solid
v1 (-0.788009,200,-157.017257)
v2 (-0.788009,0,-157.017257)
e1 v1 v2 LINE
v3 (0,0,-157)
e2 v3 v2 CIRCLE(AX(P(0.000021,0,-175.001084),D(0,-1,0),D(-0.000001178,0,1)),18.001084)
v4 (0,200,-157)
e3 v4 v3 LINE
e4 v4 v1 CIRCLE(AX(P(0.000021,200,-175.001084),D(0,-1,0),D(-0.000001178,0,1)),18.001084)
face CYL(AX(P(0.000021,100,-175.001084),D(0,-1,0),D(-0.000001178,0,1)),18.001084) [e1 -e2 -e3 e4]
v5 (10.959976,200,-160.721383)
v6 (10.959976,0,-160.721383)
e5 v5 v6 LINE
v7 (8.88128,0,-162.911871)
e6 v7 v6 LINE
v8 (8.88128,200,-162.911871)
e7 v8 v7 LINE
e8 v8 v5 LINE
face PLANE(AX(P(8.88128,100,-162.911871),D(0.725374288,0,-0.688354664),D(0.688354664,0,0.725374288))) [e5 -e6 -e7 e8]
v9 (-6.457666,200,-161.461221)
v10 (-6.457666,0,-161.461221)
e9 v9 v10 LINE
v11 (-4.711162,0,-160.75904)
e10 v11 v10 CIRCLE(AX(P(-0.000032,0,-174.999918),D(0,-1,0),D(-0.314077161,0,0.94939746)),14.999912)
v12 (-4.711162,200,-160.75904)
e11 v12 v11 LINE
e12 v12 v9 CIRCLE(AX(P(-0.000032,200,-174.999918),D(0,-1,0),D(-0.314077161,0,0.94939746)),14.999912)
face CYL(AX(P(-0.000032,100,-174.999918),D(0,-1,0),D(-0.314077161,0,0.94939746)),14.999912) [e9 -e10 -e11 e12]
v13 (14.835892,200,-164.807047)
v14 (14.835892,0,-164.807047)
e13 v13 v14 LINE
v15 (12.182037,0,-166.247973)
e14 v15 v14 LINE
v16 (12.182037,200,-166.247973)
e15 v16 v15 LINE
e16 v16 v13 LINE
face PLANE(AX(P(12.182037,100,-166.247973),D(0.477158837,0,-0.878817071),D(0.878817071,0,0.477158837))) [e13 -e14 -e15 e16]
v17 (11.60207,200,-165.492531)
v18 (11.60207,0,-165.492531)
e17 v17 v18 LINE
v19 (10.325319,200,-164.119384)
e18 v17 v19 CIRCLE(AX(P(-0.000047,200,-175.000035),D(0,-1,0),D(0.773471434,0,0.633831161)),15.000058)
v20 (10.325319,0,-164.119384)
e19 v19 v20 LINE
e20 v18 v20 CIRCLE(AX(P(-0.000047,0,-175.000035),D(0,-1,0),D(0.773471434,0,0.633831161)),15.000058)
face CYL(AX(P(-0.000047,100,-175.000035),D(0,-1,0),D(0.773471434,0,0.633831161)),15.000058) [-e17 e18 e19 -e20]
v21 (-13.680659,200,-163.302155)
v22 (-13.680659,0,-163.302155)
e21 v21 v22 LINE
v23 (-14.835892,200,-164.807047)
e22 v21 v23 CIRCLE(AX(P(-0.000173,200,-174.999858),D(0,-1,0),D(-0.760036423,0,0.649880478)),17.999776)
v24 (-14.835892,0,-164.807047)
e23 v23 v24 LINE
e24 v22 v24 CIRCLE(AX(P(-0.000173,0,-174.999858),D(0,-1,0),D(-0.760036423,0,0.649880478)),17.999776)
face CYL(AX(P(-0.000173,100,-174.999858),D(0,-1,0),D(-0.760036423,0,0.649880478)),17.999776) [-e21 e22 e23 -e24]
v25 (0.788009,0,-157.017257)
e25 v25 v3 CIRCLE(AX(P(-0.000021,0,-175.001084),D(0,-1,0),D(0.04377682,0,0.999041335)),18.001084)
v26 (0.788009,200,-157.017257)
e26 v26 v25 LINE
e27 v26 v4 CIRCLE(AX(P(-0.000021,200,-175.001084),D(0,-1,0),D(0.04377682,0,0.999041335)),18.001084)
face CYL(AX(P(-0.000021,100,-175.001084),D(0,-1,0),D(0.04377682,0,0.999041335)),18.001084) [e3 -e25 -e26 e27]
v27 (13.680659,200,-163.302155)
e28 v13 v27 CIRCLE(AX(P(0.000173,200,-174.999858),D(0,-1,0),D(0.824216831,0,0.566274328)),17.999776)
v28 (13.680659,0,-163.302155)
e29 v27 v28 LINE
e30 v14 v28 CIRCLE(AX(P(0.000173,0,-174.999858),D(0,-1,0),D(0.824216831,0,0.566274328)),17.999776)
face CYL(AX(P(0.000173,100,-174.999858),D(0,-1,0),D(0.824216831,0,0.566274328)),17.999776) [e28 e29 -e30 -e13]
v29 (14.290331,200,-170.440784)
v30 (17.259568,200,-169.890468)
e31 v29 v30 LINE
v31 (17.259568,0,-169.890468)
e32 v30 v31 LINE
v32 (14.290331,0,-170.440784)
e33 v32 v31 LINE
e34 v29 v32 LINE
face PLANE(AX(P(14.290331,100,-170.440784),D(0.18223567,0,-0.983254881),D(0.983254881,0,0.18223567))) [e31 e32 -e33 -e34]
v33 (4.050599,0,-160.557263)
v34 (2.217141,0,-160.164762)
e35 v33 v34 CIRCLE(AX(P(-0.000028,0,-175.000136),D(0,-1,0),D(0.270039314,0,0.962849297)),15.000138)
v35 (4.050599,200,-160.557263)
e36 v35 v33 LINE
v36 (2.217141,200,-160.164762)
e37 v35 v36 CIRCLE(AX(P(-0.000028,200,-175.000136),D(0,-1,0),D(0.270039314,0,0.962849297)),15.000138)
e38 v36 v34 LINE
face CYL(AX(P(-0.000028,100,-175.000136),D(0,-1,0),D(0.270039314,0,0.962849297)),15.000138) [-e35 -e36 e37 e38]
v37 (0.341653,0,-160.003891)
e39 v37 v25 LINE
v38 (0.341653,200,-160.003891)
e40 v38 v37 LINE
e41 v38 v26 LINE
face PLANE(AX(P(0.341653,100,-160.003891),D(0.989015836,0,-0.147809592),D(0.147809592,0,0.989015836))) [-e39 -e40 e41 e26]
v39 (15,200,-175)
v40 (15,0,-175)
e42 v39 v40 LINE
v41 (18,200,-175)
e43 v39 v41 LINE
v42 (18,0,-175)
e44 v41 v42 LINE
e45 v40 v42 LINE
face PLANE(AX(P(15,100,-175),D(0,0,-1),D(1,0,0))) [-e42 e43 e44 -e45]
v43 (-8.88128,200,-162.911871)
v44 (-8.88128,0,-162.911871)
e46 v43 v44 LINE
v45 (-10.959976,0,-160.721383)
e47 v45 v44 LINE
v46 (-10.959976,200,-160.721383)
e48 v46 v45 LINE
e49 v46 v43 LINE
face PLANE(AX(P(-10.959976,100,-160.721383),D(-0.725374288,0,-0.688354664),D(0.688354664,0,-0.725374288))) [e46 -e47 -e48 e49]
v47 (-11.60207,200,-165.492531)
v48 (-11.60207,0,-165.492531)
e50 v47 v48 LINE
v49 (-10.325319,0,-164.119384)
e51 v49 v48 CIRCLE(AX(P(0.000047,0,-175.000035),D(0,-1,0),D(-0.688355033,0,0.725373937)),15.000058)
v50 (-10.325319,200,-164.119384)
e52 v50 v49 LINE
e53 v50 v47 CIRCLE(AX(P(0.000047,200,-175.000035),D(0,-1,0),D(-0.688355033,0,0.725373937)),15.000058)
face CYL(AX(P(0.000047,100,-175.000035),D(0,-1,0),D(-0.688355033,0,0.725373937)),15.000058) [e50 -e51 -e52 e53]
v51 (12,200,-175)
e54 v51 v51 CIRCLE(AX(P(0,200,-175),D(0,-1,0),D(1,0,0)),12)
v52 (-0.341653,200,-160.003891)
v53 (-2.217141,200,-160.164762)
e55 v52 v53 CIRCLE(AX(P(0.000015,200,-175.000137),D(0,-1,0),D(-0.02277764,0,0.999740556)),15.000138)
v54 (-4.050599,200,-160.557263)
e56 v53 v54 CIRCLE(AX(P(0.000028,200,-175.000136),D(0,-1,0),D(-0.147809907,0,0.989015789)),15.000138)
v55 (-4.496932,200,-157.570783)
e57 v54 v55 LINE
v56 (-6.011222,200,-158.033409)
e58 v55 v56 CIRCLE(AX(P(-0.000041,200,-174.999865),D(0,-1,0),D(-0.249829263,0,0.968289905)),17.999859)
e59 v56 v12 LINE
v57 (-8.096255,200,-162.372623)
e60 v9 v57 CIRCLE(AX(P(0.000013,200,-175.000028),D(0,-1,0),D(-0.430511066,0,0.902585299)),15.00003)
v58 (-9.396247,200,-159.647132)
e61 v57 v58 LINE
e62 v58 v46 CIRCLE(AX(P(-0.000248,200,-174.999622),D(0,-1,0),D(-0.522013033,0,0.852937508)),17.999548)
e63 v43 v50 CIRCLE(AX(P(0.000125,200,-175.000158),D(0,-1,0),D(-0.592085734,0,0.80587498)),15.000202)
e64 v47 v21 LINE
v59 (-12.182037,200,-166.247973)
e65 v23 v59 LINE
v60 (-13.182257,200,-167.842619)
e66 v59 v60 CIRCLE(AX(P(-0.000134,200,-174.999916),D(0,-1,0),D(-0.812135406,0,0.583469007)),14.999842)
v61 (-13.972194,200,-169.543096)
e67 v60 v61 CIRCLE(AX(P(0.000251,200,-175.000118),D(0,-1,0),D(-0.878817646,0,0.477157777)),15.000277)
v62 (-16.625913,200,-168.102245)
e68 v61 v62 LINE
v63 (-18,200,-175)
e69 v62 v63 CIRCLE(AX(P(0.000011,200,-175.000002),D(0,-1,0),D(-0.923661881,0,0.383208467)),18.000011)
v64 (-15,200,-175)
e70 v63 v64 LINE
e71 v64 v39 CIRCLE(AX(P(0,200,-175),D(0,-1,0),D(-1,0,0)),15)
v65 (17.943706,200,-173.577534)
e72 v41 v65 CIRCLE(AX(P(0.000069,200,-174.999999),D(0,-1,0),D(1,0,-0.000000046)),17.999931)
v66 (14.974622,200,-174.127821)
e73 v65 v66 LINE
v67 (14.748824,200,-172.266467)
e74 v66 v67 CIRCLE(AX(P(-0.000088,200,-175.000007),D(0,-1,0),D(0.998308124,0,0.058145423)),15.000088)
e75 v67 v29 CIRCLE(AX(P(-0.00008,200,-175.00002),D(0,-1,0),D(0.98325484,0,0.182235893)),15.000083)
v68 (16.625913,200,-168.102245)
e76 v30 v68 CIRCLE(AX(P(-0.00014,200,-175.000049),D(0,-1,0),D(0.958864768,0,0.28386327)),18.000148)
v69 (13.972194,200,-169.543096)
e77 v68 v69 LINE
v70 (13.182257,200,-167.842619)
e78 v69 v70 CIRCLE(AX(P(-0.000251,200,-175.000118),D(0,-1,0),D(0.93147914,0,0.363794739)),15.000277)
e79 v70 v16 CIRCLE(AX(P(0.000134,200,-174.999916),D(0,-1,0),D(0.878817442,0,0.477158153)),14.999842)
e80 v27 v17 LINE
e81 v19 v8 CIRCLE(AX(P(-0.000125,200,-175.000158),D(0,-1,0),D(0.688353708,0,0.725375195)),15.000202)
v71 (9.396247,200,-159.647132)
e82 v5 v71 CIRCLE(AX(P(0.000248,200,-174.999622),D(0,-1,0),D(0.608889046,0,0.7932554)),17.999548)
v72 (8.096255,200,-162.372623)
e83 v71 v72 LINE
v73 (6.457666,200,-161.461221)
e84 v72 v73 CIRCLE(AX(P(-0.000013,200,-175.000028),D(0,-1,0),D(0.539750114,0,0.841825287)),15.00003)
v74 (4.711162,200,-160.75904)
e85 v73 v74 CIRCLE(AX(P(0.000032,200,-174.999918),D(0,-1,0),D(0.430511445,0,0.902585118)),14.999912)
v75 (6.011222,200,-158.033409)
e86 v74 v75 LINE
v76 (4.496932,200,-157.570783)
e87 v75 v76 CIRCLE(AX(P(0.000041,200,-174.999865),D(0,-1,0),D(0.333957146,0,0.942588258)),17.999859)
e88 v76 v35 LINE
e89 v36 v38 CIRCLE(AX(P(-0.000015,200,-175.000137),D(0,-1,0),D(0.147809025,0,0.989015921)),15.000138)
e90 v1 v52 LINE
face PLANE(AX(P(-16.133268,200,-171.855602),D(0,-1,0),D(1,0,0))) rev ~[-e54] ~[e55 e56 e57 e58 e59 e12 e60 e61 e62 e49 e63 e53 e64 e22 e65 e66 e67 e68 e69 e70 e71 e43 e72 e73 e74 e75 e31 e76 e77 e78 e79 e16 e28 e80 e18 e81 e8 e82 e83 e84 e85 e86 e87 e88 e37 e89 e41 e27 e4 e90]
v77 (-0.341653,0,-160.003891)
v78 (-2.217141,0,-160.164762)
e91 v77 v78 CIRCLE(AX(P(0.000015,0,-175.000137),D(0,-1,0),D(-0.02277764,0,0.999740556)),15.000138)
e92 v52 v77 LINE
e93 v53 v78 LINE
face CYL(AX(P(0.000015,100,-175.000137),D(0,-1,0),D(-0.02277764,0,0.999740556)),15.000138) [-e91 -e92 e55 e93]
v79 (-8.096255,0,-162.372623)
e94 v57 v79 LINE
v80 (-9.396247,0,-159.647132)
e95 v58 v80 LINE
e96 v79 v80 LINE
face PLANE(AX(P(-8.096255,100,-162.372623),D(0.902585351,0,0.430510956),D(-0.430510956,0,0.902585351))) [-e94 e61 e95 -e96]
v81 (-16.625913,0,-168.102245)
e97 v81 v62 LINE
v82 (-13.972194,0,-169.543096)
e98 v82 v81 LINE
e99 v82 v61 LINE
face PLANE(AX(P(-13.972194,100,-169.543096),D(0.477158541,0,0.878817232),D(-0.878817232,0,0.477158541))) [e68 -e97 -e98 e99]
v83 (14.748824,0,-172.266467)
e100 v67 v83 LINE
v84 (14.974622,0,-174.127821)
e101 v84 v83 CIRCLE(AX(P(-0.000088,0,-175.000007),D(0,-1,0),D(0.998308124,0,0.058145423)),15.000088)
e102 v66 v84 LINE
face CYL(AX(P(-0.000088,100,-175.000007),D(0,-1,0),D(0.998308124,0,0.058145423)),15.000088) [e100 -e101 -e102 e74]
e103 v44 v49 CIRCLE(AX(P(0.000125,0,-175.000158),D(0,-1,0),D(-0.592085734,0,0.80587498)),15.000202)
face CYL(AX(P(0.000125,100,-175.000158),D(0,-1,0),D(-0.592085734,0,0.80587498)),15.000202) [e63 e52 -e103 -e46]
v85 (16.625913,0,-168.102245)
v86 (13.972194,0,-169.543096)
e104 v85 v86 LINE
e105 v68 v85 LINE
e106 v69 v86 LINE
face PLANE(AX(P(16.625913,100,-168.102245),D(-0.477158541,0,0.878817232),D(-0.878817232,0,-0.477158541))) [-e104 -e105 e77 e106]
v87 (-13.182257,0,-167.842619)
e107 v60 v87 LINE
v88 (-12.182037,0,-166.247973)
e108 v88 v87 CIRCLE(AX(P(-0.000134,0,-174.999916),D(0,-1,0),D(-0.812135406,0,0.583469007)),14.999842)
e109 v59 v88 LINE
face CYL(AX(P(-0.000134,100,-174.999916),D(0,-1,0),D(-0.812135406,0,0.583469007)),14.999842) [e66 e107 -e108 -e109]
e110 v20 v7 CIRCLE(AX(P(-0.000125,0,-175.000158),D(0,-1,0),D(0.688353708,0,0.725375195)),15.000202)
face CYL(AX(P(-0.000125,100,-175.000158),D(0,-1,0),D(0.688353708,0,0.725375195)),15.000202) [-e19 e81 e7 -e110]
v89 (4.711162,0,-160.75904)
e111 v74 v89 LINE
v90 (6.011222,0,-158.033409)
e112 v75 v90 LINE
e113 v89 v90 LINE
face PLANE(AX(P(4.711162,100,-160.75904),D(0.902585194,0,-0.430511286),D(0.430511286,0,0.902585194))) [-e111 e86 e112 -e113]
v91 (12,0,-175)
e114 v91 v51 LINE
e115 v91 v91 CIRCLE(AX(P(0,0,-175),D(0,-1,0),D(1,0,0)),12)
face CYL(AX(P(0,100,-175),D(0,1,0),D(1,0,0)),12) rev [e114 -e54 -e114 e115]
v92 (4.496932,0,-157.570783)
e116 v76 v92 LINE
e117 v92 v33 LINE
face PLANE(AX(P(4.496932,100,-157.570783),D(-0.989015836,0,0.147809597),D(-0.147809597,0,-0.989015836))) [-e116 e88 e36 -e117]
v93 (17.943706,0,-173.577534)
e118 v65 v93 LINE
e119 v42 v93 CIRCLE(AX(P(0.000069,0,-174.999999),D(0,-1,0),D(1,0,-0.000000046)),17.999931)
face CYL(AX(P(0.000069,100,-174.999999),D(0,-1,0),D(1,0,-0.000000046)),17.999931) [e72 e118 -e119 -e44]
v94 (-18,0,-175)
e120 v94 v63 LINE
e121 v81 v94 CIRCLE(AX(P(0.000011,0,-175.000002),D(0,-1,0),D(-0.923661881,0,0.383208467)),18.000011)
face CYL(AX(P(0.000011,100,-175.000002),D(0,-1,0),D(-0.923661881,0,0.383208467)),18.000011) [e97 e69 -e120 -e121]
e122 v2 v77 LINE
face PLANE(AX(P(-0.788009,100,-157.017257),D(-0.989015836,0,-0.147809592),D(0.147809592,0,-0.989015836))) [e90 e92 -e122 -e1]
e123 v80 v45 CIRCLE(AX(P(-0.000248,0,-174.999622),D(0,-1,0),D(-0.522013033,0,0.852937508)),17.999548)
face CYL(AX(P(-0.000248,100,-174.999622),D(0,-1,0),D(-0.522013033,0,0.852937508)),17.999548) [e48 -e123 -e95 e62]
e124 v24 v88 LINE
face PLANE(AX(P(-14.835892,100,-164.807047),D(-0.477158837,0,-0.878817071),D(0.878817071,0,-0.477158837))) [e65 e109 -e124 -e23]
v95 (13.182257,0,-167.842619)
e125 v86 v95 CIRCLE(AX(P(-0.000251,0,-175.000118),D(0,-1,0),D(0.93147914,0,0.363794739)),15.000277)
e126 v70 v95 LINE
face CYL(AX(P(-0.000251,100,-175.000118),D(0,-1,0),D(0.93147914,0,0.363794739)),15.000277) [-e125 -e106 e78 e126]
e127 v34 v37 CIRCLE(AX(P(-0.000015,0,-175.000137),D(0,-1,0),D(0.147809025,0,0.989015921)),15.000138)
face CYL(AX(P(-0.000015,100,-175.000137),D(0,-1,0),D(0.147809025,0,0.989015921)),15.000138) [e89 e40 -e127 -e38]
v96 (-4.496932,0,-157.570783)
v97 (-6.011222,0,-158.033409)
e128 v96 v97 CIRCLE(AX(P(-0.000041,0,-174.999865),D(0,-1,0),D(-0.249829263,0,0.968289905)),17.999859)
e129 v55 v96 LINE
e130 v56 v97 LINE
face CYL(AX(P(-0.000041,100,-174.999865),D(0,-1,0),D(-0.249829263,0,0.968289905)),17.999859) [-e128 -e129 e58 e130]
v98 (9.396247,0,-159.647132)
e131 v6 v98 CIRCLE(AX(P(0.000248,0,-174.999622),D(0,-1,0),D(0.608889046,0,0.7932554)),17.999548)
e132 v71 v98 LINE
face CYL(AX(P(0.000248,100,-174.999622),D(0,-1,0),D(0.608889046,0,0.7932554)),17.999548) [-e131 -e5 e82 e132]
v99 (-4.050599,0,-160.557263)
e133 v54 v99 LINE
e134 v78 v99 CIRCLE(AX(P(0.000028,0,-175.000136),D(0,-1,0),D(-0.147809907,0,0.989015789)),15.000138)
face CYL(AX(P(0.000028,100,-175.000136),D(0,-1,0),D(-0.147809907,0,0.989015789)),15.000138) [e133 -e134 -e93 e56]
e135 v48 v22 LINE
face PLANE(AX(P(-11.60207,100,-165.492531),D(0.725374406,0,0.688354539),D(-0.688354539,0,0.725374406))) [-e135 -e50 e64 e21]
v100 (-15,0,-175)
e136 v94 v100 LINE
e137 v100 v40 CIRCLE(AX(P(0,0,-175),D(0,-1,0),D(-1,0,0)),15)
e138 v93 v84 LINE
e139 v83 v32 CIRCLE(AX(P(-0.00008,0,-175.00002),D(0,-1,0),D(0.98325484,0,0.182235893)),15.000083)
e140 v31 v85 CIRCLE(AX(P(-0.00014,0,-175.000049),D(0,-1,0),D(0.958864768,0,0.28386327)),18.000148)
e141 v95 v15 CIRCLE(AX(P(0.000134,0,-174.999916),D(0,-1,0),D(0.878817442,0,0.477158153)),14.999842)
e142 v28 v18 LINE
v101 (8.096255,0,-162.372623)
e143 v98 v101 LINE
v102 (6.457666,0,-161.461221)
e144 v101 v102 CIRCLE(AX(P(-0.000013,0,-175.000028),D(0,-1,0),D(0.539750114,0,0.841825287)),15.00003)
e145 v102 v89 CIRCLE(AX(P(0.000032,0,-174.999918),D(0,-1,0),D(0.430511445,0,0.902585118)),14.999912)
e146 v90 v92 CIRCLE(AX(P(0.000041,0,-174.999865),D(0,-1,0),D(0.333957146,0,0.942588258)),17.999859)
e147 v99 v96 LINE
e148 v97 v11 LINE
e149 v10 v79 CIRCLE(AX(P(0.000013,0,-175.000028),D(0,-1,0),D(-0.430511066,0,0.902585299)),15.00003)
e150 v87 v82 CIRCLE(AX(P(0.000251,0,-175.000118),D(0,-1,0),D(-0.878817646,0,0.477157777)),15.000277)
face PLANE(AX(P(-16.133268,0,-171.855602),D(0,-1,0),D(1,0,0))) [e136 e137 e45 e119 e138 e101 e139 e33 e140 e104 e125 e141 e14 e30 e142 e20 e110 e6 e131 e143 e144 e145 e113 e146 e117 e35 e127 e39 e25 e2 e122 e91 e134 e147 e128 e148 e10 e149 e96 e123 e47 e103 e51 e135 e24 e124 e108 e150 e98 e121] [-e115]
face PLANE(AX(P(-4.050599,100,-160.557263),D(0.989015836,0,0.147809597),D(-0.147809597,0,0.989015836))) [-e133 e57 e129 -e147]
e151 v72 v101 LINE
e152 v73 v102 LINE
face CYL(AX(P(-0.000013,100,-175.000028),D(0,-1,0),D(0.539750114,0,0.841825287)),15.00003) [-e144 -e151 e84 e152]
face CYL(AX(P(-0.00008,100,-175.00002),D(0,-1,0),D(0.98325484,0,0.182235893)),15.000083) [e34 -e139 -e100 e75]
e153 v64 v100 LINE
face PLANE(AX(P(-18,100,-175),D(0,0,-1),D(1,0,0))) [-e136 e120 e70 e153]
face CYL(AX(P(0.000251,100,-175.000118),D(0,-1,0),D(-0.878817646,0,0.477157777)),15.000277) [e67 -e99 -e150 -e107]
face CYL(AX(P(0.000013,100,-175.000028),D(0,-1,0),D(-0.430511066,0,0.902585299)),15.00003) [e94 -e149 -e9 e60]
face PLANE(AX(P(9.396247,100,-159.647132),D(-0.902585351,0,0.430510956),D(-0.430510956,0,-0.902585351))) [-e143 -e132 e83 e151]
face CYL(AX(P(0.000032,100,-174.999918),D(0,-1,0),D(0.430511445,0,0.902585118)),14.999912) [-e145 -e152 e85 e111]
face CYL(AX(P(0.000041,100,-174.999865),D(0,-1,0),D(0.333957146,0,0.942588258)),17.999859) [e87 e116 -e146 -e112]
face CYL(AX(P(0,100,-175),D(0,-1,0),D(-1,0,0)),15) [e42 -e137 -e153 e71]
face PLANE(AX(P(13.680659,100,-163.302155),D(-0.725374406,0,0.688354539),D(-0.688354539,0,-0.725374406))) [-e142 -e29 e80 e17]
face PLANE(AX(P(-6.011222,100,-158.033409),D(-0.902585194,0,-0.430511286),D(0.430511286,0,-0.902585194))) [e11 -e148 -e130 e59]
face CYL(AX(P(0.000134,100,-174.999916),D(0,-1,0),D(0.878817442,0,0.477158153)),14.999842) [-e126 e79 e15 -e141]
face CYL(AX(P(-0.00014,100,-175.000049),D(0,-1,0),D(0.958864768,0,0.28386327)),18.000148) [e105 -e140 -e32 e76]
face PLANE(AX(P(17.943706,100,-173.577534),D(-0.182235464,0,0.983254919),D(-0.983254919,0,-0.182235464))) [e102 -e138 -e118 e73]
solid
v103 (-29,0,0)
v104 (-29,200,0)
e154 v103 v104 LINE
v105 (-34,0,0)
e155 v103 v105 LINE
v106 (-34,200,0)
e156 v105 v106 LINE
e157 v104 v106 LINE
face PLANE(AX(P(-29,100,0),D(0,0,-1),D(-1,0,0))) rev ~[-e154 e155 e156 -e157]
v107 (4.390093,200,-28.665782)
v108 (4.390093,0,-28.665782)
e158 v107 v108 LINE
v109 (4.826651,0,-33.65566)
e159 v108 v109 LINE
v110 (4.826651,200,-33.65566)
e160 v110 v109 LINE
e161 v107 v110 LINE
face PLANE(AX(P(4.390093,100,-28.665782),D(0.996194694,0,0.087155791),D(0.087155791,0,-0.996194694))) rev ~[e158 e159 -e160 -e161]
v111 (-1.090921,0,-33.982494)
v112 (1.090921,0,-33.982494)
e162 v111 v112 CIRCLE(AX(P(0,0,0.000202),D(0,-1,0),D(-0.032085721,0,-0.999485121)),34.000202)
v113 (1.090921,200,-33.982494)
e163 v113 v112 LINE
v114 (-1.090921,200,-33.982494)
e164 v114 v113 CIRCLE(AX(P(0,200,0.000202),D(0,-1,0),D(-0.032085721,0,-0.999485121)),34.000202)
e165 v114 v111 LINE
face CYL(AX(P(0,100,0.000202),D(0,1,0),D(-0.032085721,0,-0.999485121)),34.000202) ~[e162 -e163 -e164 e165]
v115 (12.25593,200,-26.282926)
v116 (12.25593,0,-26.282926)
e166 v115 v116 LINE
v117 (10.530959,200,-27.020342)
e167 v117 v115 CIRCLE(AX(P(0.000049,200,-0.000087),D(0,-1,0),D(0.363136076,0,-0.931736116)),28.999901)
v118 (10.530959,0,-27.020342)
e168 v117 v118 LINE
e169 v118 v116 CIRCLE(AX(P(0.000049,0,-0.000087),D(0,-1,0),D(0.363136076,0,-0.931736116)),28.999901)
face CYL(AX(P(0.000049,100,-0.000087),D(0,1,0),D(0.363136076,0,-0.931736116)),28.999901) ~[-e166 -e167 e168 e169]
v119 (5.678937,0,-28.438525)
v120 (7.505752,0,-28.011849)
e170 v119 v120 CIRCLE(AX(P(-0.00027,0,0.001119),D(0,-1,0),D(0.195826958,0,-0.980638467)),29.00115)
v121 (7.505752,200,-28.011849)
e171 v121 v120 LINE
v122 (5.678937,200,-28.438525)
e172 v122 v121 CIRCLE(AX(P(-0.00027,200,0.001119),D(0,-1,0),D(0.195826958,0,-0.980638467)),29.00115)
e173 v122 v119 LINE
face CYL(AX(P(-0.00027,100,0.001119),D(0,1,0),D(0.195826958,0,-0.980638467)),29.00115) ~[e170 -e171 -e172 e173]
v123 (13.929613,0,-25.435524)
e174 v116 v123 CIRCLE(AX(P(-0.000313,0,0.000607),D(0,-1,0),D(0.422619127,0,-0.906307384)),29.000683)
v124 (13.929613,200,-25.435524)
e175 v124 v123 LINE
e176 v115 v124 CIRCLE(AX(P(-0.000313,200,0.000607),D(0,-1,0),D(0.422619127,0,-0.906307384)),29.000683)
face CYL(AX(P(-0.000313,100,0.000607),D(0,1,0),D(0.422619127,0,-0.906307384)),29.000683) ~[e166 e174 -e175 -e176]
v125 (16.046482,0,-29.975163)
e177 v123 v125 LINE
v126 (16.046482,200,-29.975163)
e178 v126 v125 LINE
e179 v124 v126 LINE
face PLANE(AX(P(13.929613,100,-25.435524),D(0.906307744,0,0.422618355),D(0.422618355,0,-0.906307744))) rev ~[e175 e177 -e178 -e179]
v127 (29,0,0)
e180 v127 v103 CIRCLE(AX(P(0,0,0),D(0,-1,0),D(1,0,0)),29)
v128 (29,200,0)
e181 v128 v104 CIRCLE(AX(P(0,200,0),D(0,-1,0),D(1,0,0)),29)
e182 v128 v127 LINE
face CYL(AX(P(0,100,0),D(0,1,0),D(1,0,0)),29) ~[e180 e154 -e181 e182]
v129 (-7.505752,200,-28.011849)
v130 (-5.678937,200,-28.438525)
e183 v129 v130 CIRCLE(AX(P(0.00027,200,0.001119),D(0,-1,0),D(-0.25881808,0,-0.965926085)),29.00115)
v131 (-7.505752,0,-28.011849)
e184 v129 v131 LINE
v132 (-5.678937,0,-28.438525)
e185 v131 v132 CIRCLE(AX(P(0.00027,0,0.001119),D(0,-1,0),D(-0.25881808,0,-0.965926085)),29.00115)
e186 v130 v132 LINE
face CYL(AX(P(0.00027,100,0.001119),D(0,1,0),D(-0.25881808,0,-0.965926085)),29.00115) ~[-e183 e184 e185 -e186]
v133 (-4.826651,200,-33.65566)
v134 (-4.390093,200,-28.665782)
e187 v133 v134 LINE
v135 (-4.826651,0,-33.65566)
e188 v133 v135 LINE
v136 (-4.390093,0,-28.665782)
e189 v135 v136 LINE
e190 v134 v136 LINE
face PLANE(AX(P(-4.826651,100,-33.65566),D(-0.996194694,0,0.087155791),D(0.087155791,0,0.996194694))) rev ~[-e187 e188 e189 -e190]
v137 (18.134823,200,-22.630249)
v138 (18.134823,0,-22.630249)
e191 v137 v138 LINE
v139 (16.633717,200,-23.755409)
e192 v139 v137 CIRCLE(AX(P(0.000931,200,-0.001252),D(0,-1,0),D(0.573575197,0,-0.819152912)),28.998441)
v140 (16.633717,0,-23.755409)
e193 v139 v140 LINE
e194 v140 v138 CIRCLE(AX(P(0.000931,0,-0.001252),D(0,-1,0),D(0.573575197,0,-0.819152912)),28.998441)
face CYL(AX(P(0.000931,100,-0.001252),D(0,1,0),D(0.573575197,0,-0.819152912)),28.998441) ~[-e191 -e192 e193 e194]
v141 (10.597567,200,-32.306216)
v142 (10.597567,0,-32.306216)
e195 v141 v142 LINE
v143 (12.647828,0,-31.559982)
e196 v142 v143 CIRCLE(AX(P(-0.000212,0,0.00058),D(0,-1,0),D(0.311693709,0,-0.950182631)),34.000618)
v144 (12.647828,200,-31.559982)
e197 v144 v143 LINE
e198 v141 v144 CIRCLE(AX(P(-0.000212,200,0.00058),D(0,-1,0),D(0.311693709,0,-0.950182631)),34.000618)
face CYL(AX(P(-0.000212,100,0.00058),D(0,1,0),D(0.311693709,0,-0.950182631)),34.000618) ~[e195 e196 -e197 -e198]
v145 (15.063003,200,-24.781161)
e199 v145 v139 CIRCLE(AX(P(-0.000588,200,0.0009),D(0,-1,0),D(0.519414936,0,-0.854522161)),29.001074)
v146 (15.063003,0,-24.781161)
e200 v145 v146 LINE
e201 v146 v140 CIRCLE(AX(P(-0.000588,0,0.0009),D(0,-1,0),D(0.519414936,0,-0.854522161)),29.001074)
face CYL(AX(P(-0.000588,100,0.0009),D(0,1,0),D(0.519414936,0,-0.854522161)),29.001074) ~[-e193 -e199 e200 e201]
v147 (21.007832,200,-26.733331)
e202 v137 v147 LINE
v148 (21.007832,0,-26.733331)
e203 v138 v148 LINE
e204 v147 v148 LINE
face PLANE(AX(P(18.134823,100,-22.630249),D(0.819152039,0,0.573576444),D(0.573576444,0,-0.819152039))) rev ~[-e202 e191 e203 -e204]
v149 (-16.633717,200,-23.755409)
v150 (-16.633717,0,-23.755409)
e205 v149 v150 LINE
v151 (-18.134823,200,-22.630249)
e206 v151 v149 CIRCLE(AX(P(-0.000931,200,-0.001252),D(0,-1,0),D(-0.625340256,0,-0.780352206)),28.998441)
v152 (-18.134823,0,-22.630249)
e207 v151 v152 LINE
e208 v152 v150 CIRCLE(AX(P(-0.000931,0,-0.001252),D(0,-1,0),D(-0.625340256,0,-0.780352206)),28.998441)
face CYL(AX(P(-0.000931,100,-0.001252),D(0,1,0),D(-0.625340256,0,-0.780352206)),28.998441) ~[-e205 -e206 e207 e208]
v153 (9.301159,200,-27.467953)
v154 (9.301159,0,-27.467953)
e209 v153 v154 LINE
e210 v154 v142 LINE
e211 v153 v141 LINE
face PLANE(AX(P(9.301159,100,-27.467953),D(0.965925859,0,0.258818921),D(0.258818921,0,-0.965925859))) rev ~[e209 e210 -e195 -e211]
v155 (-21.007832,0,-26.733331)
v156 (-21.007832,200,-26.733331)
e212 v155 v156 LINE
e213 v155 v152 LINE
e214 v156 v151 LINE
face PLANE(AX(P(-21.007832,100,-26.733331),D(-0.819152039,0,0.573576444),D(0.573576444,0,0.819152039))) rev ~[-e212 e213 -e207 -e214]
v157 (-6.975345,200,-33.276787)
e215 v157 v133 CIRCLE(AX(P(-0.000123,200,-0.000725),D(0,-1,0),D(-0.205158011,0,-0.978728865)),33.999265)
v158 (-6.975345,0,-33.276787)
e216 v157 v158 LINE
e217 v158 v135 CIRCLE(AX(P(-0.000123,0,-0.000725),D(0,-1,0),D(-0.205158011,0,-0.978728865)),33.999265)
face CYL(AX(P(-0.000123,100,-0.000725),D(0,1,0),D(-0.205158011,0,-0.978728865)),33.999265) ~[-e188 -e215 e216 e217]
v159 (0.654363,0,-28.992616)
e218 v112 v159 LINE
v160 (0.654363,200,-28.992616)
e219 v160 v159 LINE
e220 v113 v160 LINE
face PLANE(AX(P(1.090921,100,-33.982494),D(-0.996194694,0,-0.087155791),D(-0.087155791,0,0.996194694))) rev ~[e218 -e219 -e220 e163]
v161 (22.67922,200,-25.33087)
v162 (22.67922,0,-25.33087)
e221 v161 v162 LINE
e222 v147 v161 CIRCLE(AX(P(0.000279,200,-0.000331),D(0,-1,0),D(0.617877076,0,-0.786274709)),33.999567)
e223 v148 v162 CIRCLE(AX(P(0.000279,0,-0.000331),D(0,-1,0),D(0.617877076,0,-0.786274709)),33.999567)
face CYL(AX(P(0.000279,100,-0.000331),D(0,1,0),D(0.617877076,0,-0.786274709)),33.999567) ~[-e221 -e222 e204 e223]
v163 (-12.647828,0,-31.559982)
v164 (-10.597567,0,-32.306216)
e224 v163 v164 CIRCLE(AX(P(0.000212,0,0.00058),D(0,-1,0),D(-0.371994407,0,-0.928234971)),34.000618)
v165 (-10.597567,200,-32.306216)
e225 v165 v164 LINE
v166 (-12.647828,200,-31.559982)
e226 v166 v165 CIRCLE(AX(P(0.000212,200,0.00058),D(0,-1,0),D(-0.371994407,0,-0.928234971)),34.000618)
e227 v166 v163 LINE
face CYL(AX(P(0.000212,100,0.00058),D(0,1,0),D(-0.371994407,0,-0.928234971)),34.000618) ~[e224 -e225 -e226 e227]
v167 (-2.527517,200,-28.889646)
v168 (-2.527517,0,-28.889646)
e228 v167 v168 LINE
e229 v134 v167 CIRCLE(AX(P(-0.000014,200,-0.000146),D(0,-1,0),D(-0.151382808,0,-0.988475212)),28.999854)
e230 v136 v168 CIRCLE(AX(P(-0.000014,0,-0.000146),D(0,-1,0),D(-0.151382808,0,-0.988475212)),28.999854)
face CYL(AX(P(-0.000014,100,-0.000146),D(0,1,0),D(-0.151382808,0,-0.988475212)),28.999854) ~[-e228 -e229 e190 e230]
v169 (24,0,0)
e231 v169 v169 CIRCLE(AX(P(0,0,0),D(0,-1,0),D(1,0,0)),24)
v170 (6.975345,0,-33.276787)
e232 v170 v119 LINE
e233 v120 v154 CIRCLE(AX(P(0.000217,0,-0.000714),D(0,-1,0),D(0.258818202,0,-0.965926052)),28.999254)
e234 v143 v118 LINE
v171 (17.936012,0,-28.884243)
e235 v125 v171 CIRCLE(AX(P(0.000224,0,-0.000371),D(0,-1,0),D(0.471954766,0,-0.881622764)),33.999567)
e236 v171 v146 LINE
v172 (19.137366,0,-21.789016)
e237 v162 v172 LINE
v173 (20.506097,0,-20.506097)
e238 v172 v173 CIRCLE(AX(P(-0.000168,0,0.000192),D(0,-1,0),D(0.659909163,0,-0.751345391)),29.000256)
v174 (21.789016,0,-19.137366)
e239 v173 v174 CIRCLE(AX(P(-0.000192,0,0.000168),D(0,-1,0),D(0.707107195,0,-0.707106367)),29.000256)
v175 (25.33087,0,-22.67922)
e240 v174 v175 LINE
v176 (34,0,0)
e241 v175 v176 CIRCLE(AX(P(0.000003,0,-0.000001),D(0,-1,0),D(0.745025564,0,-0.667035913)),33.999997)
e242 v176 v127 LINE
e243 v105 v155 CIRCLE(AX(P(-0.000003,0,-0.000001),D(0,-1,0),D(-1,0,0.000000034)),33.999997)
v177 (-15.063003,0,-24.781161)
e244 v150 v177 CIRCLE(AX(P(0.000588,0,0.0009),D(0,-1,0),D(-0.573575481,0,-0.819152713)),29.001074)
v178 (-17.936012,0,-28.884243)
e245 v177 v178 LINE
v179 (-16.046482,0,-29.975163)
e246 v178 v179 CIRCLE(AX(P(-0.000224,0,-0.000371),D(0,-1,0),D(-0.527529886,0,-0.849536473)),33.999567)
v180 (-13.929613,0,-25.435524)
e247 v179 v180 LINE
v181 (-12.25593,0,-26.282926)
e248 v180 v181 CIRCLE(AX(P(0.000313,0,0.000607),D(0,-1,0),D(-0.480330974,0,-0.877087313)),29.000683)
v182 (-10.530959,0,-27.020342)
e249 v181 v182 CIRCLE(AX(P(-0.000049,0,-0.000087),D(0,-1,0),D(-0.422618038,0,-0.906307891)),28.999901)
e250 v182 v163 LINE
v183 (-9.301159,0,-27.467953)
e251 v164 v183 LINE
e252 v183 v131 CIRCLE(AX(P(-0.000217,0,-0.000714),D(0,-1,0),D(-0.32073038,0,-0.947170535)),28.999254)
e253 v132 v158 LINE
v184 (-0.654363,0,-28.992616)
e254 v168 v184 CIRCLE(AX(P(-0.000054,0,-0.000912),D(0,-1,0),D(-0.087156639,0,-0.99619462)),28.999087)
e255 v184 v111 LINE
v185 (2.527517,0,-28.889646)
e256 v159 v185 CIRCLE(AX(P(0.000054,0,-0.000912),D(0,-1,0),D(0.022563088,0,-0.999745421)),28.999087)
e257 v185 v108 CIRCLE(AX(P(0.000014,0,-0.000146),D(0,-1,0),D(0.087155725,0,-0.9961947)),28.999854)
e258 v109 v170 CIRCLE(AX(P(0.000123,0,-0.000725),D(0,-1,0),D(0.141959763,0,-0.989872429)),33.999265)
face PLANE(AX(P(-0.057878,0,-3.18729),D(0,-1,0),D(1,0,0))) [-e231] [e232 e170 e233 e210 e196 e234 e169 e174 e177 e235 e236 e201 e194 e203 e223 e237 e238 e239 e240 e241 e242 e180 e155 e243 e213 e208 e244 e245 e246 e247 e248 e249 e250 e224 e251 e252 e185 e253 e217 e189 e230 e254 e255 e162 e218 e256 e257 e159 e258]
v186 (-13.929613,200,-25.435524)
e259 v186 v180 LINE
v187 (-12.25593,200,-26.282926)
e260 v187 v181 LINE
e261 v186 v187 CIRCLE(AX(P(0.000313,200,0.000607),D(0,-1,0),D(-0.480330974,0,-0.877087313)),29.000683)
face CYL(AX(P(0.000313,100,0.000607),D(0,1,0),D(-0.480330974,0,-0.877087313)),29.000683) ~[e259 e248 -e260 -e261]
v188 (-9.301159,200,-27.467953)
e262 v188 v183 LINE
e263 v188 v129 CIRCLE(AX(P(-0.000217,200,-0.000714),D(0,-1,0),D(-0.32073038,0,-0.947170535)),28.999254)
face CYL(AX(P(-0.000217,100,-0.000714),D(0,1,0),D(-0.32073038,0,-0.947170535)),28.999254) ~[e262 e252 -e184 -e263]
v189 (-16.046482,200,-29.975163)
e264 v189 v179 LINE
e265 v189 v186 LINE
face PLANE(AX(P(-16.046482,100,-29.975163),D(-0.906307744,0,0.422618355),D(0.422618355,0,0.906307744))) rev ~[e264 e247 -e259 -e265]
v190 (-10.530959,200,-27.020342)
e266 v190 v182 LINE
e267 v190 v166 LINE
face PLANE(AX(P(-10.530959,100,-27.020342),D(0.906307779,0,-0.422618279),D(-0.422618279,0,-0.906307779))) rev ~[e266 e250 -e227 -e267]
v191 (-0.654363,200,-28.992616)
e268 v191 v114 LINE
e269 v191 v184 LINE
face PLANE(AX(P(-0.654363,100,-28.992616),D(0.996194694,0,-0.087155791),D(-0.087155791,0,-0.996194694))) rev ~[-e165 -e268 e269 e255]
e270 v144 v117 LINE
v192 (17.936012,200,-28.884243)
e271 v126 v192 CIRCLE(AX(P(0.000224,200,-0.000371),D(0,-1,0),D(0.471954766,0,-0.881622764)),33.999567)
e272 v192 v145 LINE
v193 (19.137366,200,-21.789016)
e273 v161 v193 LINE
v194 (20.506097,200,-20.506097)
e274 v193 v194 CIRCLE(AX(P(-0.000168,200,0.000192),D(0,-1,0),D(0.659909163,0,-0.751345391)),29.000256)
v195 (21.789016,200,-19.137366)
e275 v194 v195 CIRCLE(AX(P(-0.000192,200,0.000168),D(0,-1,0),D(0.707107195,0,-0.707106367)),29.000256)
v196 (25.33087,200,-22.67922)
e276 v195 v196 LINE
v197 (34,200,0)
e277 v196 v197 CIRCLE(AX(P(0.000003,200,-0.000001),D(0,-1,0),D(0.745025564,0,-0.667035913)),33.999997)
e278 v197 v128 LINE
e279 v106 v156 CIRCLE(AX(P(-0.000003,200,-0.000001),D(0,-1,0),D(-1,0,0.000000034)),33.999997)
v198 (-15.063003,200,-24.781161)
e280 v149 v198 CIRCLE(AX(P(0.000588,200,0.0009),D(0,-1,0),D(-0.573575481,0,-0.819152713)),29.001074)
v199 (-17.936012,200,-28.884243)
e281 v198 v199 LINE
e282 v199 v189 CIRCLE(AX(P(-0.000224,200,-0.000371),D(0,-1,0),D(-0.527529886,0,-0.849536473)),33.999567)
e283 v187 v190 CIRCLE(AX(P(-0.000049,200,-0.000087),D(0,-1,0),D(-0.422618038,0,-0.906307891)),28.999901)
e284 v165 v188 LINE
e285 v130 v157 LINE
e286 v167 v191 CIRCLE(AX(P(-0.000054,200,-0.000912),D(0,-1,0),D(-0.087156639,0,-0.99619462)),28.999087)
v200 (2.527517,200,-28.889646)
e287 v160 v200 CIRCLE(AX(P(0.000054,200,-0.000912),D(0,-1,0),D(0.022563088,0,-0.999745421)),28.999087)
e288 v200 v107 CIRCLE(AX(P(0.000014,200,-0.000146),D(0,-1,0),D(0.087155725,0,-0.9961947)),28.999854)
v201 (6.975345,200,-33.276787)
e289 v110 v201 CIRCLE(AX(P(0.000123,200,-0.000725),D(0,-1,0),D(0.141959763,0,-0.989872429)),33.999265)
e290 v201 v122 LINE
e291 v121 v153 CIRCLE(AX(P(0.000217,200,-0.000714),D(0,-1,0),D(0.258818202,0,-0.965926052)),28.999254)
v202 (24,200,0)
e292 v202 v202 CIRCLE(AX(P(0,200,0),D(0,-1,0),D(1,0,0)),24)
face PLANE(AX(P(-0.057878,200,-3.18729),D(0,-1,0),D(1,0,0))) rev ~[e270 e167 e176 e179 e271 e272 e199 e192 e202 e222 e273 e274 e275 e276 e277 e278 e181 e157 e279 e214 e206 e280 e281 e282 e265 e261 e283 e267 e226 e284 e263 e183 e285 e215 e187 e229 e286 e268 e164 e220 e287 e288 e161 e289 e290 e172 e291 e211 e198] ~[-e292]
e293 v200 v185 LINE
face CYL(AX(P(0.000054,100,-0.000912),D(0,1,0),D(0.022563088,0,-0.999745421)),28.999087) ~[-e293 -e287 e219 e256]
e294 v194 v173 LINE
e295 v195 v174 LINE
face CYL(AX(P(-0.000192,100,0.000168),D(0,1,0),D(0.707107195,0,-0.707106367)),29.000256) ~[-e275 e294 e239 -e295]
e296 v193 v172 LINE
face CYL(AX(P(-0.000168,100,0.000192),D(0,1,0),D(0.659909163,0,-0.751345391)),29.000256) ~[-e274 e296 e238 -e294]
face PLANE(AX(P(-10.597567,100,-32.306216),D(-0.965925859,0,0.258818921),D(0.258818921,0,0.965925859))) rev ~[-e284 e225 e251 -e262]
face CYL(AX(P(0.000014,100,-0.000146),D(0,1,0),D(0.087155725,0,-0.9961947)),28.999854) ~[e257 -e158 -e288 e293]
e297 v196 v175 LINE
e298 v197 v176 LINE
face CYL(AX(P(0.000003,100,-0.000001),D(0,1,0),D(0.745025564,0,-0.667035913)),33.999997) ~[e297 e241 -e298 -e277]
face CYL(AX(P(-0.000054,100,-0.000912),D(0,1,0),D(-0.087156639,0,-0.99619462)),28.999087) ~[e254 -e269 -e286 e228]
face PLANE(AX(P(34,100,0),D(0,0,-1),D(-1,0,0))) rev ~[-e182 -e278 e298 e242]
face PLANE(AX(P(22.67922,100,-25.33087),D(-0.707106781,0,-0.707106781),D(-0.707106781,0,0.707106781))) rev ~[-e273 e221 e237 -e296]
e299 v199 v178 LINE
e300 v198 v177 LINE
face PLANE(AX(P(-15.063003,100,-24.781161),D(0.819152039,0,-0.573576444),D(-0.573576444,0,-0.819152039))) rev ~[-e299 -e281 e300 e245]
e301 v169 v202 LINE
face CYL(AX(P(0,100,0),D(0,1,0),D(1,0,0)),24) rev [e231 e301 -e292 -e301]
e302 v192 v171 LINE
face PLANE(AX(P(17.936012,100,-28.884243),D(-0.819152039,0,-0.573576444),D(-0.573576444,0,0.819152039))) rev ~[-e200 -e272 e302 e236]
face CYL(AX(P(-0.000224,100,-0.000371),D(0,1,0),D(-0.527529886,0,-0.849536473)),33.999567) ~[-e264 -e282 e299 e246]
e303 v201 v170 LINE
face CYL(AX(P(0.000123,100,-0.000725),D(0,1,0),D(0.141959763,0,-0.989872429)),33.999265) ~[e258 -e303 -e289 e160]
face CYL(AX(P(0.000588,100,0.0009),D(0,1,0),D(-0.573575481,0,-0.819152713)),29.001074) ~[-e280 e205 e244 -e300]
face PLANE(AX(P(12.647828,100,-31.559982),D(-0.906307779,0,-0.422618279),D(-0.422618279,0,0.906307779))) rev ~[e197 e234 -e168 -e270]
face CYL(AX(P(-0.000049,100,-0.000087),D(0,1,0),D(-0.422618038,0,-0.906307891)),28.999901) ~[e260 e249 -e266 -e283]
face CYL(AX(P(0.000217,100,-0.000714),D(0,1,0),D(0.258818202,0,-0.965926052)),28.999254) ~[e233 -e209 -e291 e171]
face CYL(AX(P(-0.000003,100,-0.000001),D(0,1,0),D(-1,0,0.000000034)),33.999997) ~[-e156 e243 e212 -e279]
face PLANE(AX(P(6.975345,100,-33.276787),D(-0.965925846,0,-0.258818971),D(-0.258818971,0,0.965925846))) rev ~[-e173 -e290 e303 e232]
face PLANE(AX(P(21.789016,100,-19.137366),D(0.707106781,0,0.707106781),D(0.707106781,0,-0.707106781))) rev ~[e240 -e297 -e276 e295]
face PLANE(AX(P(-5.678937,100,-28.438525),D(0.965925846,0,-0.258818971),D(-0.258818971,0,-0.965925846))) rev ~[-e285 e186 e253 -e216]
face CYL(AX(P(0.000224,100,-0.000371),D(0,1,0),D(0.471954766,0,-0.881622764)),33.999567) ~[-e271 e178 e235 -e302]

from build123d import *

# Parameters (mm, degrees)
F1_R     = 24
F1_R_2   = 12
F2_DEPTH = 100


with BuildPart() as f2:
    # F1 (on offset) → F2 (new body, symmetric)
    with BuildSketch(Plane.XZ.offset(-100)):
        with BuildLine():
            Line((-21.007832, -26.733331), (-18.134823, -22.630249))
            ThreePointArc((-18.134823, -22.630249), (-17.393371, -23.204971), (-16.633717, -23.755409))
            ThreePointArc((-16.633717, -23.755409), (-15.856656, -24.280989), (-15.063003, -24.781161))
            ThreePointArc((-15.063003, -24.781161), (-14.5, -25.114737), (-13.929613, -25.435524))
            ThreePointArc((-13.929613, -25.435524), (-13.099625, -25.872762), (-12.25593, -26.282926))
            ThreePointArc((-12.25593, -26.282926), (-11.399409, -26.665586), (-10.530959, -27.020342))
            ThreePointArc((-10.530959, -27.020342), (-9.918584, -27.251086), (-9.301159, -27.467953))
            ThreePointArc((-9.301159, -27.467953), (-8.407855, -27.754423), (-7.505752, -28.011849))
            ThreePointArc((-7.505752, -28.011849), (-6.595796, -28.239962), (-5.678937, -28.438525))
            ThreePointArc((-5.678937, -28.438525), (-5.035797, -28.559425), (-4.390093, -28.665782))
            ThreePointArc((-4.390093, -28.665782), (-3.460616, -28.792779), (-2.527517, -28.889646))
            ThreePointArc((-2.527517, -28.889646), (-1.591773, -28.956282), (-0.654363, -28.992616))
            ThreePointArc((-0.654363, -28.992616), (0, -29), (0.654363, -28.992616))
            ThreePointArc((0.654363, -28.992616), (1.591773, -28.956282), (2.527517, -28.889646))
            ThreePointArc((2.527517, -28.889646), (3.460616, -28.792779), (4.390093, -28.665782))
            ThreePointArc((4.390093, -28.665782), (5.035797, -28.559425), (5.678937, -28.438525))
            ThreePointArc((5.678937, -28.438525), (6.595796, -28.239962), (7.505752, -28.011849))
            ThreePointArc((7.505752, -28.011849), (8.407855, -27.754423), (9.301159, -27.467953))
            ThreePointArc((9.301159, -27.467953), (9.918584, -27.251086), (10.530959, -27.020342))
            ThreePointArc((10.530959, -27.020342), (11.399409, -26.665586), (12.25593, -26.282926))
            ThreePointArc((12.25593, -26.282926), (13.099625, -25.872762), (13.929613, -25.435524))
            ThreePointArc((13.929613, -25.435524), (14.5, -25.114737), (15.063003, -24.781161))
            ThreePointArc((15.063003, -24.781161), (15.856656, -24.280989), (16.633717, -23.755409))
            ThreePointArc((16.633717, -23.755409), (17.393371, -23.204971), (18.134823, -22.630249))
            ThreePointArc((18.134823, -22.630249), (18.640841, -22.215289), (19.137366, -21.789016))
            ThreePointArc((19.137366, -21.789016), (19.832108, -21.158627), (20.506097, -20.506097))
            ThreePointArc((20.506097, -20.506097), (21.158627, -19.832108), (21.789016, -19.137366))
            Line((21.789016, -19.137366), (25.33087, -22.67922))
            ThreePointArc((25.33087, -22.67922), (31.758854, -12.139819), (34, 0))
            Line((34, 0), (29, 0))
            ThreePointArc((29, 0), (0, 29), (-29, 0))
            Line((-29, 0), (-34, 0))
            ThreePointArc((-34, 0), (-30.579947, -14.86159), (-21.007832, -26.733331))
        make_face()
        Circle(F1_R, mode=Mode.SUBTRACT)
        with BuildLine():
            ThreePointArc((-13.929613, -25.435524), (-14.5, -25.114737), (-15.063003, -24.781161))
            Line((-15.063003, -24.781161), (-17.936012, -28.884243))
            ThreePointArc((-17.936012, -28.884243), (-17, -29.444864), (-16.046482, -29.975163))
            Line((-16.046482, -29.975163), (-13.929613, -25.435524))
        make_face()
        with BuildLine():
            ThreePointArc((-9.301159, -27.467953), (-9.918584, -27.251086), (-10.530959, -27.020342))
            Line((-10.530959, -27.020342), (-12.647828, -31.559982))
            ThreePointArc((-12.647828, -31.559982), (-11.628685, -31.949549), (-10.597567, -32.306216))
            Line((-10.597567, -32.306216), (-9.301159, -27.467953))
        make_face()
        with BuildLine():
            ThreePointArc((-4.390093, -28.665782), (-5.035797, -28.559425), (-5.678937, -28.438525))
            Line((-5.678937, -28.438525), (-6.975345, -33.276787))
            ThreePointArc((-6.975345, -33.276787), (-5.904038, -33.483464), (-4.826651, -33.65566))
            Line((-4.826651, -33.65566), (-4.390093, -28.665782))
        make_face()
        with BuildLine():
            ThreePointArc((0.654363, -28.992616), (0, -29), (-0.654363, -28.992616))
            Line((-0.654363, -28.992616), (-1.090921, -33.982494))
            ThreePointArc((-1.090921, -33.982494), (0, -34), (1.090921, -33.982494))
            Line((1.090921, -33.982494), (0.654363, -28.992616))
        make_face()
        with BuildLine():
            ThreePointArc((5.678937, -28.438525), (5.035797, -28.559425), (4.390093, -28.665782))
            Line((4.390093, -28.665782), (4.826651, -33.65566))
            ThreePointArc((4.826651, -33.65566), (5.904038, -33.483464), (6.975345, -33.276787))
            Line((6.975345, -33.276787), (5.678937, -28.438525))
        make_face()
        with BuildLine():
            Line((12.647828, -31.559982), (10.530959, -27.020342))
            ThreePointArc((10.530959, -27.020342), (9.918584, -27.251086), (9.301159, -27.467953))
            Line((9.301159, -27.467953), (10.597567, -32.306216))
            ThreePointArc((10.597567, -32.306216), (11.628685, -31.949549), (12.647828, -31.559982))
        make_face()
        with BuildLine():
            Line((17.936012, -28.884243), (15.063003, -24.781161))
            ThreePointArc((15.063003, -24.781161), (14.5, -25.114737), (13.929613, -25.435524))
            Line((13.929613, -25.435524), (16.046482, -29.975163))
            ThreePointArc((16.046482, -29.975163), (17, -29.444864), (17.936012, -28.884243))
        make_face()
        with BuildLine():
            Line((22.67922, -25.33087), (19.137366, -21.789016))
            ThreePointArc((19.137366, -21.789016), (18.640841, -22.215289), (18.134823, -22.630249))
            Line((18.134823, -22.630249), (21.007832, -26.733331))
            ThreePointArc((21.007832, -26.733331), (21.854779, -26.045511), (22.67922, -25.33087))
        make_face()
        with BuildLine():
            Line((-18, -175), (-15, -175))
            ThreePointArc((-15, -175), (-14.740809, -172.223573), (-13.972194, -169.543096))
            Line((-13.972194, -169.543096), (-16.625913, -168.102245))
            ThreePointArc((-16.625913, -168.102245), (-17.653136, -171.483356), (-18, -175))
        make_face()
        with BuildLine():
            Line((-14.835892, -164.807047), (-12.182037, -166.247973))
            ThreePointArc((-12.182037, -166.247973), (-11.898051, -165.865648), (-11.60207, -165.492531))
            Line((-11.60207, -165.492531), (-13.680659, -163.302155))
            ThreePointArc((-13.680659, -163.302155), (-14.278116, -164.03937), (-14.835892, -164.807047))
        make_face()
        with BuildLine():
            ThreePointArc((-8.88128, -162.911871), (-8.493048, -162.636015), (-8.096255, -162.372623))
            Line((-8.096255, -162.372623), (-9.396247, -159.647132))
            ThreePointArc((-9.396247, -159.647132), (-10.192275, -160.163641), (-10.959976, -160.721383))
            Line((-10.959976, -160.721383), (-8.88128, -162.911871))
        make_face()
        with BuildLine():
            ThreePointArc((13.972194, -169.543096), (13.603821, -168.680503), (13.182257, -167.842619))
            ThreePointArc((13.182257, -167.842619), (12.707186, -167.02959), (12.182037, -166.247973))
            ThreePointArc((12.182037, -166.247973), (11.898051, -165.865648), (11.60207, -165.492531))
            ThreePointArc((11.60207, -165.492531), (10.985171, -164.785989), (10.325319, -164.119384))
            ThreePointArc((10.325319, -164.119384), (9.62226, -163.492954), (8.88128, -162.911871))
            ThreePointArc((8.88128, -162.911871), (8.493048, -162.636015), (8.096255, -162.372623))
            ThreePointArc((8.096255, -162.372623), (7.291215, -161.891294), (6.457666, -161.461221))
            ThreePointArc((6.457666, -161.461221), (5.59544, -161.082707), (4.711162, -160.75904))
            ThreePointArc((4.711162, -160.75904), (4.382042, -160.654349), (4.050599, -160.557263))
            ThreePointArc((4.050599, -160.557263), (3.140009, -160.332337), (2.217141, -160.164762))
            ThreePointArc((2.217141, -160.164762), (1.281923, -160.054878), (0.341653, -160.003891))
            ThreePointArc((0.341653, -160.003891), (0, -160), (-0.341653, -160.003891))
            ThreePointArc((-0.341653, -160.003891), (-1.281923, -160.054878), (-2.217141, -160.164762))
            ThreePointArc((-2.217141, -160.164762), (-3.140009, -160.332337), (-4.050599, -160.557263))
            ThreePointArc((-4.050599, -160.557263), (-4.382042, -160.654349), (-4.711162, -160.75904))
            ThreePointArc((-4.711162, -160.75904), (-5.59544, -161.082707), (-6.457666, -161.461221))
            ThreePointArc((-6.457666, -161.461221), (-7.291215, -161.891294), (-8.096255, -162.372623))
            ThreePointArc((-8.096255, -162.372623), (-8.493048, -162.636015), (-8.88128, -162.911871))
            ThreePointArc((-8.88128, -162.911871), (-9.62226, -163.492954), (-10.325319, -164.119384))
            ThreePointArc((-10.325319, -164.119384), (-10.985171, -164.785989), (-11.60207, -165.492531))
            ThreePointArc((-11.60207, -165.492531), (-11.898051, -165.865648), (-12.182037, -166.247973))
            ThreePointArc((-12.182037, -166.247973), (-12.707186, -167.02959), (-13.182257, -167.842619))
            ThreePointArc((-13.182257, -167.842619), (-13.603821, -168.680503), (-13.972194, -169.543096))
            ThreePointArc((-13.972194, -169.543096), (-14.740809, -172.223573), (-15, -175))
            ThreePointArc((-15, -175), (0, -190), (15, -175))
            ThreePointArc((15, -175), (14.993654, -174.563726), (14.974622, -174.127821))
            ThreePointArc((14.974622, -174.127821), (14.890835, -173.193613), (14.748824, -172.266467))
            ThreePointArc((14.748824, -172.266467), (14.548244, -171.346426), (14.290331, -170.440784))
            ThreePointArc((14.290331, -170.440784), (14.138389, -169.989415), (13.972194, -169.543096))
        make_face()
        with Locations((0, -175)):
            Circle(F1_R_2, mode=Mode.SUBTRACT)
        with BuildLine():
            ThreePointArc((-4.711162, -160.75904), (-4.382042, -160.654349), (-4.050599, -160.557263))
            Line((-4.050599, -160.557263), (-4.496932, -157.570783))
            ThreePointArc((-4.496932, -157.570783), (-5.259166, -157.785437), (-6.011222, -158.033409))
            Line((-6.011222, -158.033409), (-4.711162, -160.75904))
        make_face()
        with BuildLine():
            ThreePointArc((-0.341653, -160.003891), (0, -160), (0.341653, -160.003891))
            Line((0.341653, -160.003891), (0.788009, -157.017257))
            ThreePointArc((0.788009, -157.017257), (0.394099, -157.004315), (0, -157))
            ThreePointArc((0, -157), (-0.394099, -157.004315), (-0.788009, -157.017257))
            Line((-0.788009, -157.017257), (-0.341653, -160.003891))
        make_face()
        with BuildLine():
            Line((4.496932, -157.570783), (4.050599, -160.557263))
            ThreePointArc((4.050599, -160.557263), (4.382042, -160.654349), (4.711162, -160.75904))
            Line((4.711162, -160.75904), (6.011222, -158.033409))
            ThreePointArc((6.011222, -158.033409), (5.259166, -157.785437), (4.496932, -157.570783))
        make_face()
        with BuildLine():
            ThreePointArc((8.096255, -162.372623), (8.493048, -162.636015), (8.88128, -162.911871))
            Line((8.88128, -162.911871), (10.959976, -160.721383))
            ThreePointArc((10.959976, -160.721383), (10.192275, -160.163641), (9.396247, -159.647132))
            Line((9.396247, -159.647132), (8.096255, -162.372623))
        make_face()
        with BuildLine():
            ThreePointArc((11.60207, -165.492531), (11.898051, -165.865648), (12.182037, -166.247973))
            Line((12.182037, -166.247973), (14.835892, -164.807047))
            ThreePointArc((14.835892, -164.807047), (14.278116, -164.03937), (13.680659, -163.302155))
            Line((13.680659, -163.302155), (11.60207, -165.492531))
        make_face()
        with BuildLine():
            Line((16.625913, -168.102245), (13.972194, -169.543096))
            ThreePointArc((13.972194, -169.543096), (14.138389, -169.989415), (14.290331, -170.440784))
            Line((14.290331, -170.440784), (17.259568, -169.890468))
            ThreePointArc((17.259568, -169.890468), (16.966316, -168.988002), (16.625913, -168.102245))
        make_face()
        with BuildLine():
            Line((17.943706, -173.577534), (14.974622, -174.127821))
            ThreePointArc((14.974622, -174.127821), (14.993654, -174.563726), (15, -175))
            Line((15, -175), (18, -175))
            ThreePointArc((18, -175), (17.985921, -174.28821), (17.943706, -173.577534))
        make_face()
    extrude(amount=F2_DEPTH, both=True)


solid = f2.part
